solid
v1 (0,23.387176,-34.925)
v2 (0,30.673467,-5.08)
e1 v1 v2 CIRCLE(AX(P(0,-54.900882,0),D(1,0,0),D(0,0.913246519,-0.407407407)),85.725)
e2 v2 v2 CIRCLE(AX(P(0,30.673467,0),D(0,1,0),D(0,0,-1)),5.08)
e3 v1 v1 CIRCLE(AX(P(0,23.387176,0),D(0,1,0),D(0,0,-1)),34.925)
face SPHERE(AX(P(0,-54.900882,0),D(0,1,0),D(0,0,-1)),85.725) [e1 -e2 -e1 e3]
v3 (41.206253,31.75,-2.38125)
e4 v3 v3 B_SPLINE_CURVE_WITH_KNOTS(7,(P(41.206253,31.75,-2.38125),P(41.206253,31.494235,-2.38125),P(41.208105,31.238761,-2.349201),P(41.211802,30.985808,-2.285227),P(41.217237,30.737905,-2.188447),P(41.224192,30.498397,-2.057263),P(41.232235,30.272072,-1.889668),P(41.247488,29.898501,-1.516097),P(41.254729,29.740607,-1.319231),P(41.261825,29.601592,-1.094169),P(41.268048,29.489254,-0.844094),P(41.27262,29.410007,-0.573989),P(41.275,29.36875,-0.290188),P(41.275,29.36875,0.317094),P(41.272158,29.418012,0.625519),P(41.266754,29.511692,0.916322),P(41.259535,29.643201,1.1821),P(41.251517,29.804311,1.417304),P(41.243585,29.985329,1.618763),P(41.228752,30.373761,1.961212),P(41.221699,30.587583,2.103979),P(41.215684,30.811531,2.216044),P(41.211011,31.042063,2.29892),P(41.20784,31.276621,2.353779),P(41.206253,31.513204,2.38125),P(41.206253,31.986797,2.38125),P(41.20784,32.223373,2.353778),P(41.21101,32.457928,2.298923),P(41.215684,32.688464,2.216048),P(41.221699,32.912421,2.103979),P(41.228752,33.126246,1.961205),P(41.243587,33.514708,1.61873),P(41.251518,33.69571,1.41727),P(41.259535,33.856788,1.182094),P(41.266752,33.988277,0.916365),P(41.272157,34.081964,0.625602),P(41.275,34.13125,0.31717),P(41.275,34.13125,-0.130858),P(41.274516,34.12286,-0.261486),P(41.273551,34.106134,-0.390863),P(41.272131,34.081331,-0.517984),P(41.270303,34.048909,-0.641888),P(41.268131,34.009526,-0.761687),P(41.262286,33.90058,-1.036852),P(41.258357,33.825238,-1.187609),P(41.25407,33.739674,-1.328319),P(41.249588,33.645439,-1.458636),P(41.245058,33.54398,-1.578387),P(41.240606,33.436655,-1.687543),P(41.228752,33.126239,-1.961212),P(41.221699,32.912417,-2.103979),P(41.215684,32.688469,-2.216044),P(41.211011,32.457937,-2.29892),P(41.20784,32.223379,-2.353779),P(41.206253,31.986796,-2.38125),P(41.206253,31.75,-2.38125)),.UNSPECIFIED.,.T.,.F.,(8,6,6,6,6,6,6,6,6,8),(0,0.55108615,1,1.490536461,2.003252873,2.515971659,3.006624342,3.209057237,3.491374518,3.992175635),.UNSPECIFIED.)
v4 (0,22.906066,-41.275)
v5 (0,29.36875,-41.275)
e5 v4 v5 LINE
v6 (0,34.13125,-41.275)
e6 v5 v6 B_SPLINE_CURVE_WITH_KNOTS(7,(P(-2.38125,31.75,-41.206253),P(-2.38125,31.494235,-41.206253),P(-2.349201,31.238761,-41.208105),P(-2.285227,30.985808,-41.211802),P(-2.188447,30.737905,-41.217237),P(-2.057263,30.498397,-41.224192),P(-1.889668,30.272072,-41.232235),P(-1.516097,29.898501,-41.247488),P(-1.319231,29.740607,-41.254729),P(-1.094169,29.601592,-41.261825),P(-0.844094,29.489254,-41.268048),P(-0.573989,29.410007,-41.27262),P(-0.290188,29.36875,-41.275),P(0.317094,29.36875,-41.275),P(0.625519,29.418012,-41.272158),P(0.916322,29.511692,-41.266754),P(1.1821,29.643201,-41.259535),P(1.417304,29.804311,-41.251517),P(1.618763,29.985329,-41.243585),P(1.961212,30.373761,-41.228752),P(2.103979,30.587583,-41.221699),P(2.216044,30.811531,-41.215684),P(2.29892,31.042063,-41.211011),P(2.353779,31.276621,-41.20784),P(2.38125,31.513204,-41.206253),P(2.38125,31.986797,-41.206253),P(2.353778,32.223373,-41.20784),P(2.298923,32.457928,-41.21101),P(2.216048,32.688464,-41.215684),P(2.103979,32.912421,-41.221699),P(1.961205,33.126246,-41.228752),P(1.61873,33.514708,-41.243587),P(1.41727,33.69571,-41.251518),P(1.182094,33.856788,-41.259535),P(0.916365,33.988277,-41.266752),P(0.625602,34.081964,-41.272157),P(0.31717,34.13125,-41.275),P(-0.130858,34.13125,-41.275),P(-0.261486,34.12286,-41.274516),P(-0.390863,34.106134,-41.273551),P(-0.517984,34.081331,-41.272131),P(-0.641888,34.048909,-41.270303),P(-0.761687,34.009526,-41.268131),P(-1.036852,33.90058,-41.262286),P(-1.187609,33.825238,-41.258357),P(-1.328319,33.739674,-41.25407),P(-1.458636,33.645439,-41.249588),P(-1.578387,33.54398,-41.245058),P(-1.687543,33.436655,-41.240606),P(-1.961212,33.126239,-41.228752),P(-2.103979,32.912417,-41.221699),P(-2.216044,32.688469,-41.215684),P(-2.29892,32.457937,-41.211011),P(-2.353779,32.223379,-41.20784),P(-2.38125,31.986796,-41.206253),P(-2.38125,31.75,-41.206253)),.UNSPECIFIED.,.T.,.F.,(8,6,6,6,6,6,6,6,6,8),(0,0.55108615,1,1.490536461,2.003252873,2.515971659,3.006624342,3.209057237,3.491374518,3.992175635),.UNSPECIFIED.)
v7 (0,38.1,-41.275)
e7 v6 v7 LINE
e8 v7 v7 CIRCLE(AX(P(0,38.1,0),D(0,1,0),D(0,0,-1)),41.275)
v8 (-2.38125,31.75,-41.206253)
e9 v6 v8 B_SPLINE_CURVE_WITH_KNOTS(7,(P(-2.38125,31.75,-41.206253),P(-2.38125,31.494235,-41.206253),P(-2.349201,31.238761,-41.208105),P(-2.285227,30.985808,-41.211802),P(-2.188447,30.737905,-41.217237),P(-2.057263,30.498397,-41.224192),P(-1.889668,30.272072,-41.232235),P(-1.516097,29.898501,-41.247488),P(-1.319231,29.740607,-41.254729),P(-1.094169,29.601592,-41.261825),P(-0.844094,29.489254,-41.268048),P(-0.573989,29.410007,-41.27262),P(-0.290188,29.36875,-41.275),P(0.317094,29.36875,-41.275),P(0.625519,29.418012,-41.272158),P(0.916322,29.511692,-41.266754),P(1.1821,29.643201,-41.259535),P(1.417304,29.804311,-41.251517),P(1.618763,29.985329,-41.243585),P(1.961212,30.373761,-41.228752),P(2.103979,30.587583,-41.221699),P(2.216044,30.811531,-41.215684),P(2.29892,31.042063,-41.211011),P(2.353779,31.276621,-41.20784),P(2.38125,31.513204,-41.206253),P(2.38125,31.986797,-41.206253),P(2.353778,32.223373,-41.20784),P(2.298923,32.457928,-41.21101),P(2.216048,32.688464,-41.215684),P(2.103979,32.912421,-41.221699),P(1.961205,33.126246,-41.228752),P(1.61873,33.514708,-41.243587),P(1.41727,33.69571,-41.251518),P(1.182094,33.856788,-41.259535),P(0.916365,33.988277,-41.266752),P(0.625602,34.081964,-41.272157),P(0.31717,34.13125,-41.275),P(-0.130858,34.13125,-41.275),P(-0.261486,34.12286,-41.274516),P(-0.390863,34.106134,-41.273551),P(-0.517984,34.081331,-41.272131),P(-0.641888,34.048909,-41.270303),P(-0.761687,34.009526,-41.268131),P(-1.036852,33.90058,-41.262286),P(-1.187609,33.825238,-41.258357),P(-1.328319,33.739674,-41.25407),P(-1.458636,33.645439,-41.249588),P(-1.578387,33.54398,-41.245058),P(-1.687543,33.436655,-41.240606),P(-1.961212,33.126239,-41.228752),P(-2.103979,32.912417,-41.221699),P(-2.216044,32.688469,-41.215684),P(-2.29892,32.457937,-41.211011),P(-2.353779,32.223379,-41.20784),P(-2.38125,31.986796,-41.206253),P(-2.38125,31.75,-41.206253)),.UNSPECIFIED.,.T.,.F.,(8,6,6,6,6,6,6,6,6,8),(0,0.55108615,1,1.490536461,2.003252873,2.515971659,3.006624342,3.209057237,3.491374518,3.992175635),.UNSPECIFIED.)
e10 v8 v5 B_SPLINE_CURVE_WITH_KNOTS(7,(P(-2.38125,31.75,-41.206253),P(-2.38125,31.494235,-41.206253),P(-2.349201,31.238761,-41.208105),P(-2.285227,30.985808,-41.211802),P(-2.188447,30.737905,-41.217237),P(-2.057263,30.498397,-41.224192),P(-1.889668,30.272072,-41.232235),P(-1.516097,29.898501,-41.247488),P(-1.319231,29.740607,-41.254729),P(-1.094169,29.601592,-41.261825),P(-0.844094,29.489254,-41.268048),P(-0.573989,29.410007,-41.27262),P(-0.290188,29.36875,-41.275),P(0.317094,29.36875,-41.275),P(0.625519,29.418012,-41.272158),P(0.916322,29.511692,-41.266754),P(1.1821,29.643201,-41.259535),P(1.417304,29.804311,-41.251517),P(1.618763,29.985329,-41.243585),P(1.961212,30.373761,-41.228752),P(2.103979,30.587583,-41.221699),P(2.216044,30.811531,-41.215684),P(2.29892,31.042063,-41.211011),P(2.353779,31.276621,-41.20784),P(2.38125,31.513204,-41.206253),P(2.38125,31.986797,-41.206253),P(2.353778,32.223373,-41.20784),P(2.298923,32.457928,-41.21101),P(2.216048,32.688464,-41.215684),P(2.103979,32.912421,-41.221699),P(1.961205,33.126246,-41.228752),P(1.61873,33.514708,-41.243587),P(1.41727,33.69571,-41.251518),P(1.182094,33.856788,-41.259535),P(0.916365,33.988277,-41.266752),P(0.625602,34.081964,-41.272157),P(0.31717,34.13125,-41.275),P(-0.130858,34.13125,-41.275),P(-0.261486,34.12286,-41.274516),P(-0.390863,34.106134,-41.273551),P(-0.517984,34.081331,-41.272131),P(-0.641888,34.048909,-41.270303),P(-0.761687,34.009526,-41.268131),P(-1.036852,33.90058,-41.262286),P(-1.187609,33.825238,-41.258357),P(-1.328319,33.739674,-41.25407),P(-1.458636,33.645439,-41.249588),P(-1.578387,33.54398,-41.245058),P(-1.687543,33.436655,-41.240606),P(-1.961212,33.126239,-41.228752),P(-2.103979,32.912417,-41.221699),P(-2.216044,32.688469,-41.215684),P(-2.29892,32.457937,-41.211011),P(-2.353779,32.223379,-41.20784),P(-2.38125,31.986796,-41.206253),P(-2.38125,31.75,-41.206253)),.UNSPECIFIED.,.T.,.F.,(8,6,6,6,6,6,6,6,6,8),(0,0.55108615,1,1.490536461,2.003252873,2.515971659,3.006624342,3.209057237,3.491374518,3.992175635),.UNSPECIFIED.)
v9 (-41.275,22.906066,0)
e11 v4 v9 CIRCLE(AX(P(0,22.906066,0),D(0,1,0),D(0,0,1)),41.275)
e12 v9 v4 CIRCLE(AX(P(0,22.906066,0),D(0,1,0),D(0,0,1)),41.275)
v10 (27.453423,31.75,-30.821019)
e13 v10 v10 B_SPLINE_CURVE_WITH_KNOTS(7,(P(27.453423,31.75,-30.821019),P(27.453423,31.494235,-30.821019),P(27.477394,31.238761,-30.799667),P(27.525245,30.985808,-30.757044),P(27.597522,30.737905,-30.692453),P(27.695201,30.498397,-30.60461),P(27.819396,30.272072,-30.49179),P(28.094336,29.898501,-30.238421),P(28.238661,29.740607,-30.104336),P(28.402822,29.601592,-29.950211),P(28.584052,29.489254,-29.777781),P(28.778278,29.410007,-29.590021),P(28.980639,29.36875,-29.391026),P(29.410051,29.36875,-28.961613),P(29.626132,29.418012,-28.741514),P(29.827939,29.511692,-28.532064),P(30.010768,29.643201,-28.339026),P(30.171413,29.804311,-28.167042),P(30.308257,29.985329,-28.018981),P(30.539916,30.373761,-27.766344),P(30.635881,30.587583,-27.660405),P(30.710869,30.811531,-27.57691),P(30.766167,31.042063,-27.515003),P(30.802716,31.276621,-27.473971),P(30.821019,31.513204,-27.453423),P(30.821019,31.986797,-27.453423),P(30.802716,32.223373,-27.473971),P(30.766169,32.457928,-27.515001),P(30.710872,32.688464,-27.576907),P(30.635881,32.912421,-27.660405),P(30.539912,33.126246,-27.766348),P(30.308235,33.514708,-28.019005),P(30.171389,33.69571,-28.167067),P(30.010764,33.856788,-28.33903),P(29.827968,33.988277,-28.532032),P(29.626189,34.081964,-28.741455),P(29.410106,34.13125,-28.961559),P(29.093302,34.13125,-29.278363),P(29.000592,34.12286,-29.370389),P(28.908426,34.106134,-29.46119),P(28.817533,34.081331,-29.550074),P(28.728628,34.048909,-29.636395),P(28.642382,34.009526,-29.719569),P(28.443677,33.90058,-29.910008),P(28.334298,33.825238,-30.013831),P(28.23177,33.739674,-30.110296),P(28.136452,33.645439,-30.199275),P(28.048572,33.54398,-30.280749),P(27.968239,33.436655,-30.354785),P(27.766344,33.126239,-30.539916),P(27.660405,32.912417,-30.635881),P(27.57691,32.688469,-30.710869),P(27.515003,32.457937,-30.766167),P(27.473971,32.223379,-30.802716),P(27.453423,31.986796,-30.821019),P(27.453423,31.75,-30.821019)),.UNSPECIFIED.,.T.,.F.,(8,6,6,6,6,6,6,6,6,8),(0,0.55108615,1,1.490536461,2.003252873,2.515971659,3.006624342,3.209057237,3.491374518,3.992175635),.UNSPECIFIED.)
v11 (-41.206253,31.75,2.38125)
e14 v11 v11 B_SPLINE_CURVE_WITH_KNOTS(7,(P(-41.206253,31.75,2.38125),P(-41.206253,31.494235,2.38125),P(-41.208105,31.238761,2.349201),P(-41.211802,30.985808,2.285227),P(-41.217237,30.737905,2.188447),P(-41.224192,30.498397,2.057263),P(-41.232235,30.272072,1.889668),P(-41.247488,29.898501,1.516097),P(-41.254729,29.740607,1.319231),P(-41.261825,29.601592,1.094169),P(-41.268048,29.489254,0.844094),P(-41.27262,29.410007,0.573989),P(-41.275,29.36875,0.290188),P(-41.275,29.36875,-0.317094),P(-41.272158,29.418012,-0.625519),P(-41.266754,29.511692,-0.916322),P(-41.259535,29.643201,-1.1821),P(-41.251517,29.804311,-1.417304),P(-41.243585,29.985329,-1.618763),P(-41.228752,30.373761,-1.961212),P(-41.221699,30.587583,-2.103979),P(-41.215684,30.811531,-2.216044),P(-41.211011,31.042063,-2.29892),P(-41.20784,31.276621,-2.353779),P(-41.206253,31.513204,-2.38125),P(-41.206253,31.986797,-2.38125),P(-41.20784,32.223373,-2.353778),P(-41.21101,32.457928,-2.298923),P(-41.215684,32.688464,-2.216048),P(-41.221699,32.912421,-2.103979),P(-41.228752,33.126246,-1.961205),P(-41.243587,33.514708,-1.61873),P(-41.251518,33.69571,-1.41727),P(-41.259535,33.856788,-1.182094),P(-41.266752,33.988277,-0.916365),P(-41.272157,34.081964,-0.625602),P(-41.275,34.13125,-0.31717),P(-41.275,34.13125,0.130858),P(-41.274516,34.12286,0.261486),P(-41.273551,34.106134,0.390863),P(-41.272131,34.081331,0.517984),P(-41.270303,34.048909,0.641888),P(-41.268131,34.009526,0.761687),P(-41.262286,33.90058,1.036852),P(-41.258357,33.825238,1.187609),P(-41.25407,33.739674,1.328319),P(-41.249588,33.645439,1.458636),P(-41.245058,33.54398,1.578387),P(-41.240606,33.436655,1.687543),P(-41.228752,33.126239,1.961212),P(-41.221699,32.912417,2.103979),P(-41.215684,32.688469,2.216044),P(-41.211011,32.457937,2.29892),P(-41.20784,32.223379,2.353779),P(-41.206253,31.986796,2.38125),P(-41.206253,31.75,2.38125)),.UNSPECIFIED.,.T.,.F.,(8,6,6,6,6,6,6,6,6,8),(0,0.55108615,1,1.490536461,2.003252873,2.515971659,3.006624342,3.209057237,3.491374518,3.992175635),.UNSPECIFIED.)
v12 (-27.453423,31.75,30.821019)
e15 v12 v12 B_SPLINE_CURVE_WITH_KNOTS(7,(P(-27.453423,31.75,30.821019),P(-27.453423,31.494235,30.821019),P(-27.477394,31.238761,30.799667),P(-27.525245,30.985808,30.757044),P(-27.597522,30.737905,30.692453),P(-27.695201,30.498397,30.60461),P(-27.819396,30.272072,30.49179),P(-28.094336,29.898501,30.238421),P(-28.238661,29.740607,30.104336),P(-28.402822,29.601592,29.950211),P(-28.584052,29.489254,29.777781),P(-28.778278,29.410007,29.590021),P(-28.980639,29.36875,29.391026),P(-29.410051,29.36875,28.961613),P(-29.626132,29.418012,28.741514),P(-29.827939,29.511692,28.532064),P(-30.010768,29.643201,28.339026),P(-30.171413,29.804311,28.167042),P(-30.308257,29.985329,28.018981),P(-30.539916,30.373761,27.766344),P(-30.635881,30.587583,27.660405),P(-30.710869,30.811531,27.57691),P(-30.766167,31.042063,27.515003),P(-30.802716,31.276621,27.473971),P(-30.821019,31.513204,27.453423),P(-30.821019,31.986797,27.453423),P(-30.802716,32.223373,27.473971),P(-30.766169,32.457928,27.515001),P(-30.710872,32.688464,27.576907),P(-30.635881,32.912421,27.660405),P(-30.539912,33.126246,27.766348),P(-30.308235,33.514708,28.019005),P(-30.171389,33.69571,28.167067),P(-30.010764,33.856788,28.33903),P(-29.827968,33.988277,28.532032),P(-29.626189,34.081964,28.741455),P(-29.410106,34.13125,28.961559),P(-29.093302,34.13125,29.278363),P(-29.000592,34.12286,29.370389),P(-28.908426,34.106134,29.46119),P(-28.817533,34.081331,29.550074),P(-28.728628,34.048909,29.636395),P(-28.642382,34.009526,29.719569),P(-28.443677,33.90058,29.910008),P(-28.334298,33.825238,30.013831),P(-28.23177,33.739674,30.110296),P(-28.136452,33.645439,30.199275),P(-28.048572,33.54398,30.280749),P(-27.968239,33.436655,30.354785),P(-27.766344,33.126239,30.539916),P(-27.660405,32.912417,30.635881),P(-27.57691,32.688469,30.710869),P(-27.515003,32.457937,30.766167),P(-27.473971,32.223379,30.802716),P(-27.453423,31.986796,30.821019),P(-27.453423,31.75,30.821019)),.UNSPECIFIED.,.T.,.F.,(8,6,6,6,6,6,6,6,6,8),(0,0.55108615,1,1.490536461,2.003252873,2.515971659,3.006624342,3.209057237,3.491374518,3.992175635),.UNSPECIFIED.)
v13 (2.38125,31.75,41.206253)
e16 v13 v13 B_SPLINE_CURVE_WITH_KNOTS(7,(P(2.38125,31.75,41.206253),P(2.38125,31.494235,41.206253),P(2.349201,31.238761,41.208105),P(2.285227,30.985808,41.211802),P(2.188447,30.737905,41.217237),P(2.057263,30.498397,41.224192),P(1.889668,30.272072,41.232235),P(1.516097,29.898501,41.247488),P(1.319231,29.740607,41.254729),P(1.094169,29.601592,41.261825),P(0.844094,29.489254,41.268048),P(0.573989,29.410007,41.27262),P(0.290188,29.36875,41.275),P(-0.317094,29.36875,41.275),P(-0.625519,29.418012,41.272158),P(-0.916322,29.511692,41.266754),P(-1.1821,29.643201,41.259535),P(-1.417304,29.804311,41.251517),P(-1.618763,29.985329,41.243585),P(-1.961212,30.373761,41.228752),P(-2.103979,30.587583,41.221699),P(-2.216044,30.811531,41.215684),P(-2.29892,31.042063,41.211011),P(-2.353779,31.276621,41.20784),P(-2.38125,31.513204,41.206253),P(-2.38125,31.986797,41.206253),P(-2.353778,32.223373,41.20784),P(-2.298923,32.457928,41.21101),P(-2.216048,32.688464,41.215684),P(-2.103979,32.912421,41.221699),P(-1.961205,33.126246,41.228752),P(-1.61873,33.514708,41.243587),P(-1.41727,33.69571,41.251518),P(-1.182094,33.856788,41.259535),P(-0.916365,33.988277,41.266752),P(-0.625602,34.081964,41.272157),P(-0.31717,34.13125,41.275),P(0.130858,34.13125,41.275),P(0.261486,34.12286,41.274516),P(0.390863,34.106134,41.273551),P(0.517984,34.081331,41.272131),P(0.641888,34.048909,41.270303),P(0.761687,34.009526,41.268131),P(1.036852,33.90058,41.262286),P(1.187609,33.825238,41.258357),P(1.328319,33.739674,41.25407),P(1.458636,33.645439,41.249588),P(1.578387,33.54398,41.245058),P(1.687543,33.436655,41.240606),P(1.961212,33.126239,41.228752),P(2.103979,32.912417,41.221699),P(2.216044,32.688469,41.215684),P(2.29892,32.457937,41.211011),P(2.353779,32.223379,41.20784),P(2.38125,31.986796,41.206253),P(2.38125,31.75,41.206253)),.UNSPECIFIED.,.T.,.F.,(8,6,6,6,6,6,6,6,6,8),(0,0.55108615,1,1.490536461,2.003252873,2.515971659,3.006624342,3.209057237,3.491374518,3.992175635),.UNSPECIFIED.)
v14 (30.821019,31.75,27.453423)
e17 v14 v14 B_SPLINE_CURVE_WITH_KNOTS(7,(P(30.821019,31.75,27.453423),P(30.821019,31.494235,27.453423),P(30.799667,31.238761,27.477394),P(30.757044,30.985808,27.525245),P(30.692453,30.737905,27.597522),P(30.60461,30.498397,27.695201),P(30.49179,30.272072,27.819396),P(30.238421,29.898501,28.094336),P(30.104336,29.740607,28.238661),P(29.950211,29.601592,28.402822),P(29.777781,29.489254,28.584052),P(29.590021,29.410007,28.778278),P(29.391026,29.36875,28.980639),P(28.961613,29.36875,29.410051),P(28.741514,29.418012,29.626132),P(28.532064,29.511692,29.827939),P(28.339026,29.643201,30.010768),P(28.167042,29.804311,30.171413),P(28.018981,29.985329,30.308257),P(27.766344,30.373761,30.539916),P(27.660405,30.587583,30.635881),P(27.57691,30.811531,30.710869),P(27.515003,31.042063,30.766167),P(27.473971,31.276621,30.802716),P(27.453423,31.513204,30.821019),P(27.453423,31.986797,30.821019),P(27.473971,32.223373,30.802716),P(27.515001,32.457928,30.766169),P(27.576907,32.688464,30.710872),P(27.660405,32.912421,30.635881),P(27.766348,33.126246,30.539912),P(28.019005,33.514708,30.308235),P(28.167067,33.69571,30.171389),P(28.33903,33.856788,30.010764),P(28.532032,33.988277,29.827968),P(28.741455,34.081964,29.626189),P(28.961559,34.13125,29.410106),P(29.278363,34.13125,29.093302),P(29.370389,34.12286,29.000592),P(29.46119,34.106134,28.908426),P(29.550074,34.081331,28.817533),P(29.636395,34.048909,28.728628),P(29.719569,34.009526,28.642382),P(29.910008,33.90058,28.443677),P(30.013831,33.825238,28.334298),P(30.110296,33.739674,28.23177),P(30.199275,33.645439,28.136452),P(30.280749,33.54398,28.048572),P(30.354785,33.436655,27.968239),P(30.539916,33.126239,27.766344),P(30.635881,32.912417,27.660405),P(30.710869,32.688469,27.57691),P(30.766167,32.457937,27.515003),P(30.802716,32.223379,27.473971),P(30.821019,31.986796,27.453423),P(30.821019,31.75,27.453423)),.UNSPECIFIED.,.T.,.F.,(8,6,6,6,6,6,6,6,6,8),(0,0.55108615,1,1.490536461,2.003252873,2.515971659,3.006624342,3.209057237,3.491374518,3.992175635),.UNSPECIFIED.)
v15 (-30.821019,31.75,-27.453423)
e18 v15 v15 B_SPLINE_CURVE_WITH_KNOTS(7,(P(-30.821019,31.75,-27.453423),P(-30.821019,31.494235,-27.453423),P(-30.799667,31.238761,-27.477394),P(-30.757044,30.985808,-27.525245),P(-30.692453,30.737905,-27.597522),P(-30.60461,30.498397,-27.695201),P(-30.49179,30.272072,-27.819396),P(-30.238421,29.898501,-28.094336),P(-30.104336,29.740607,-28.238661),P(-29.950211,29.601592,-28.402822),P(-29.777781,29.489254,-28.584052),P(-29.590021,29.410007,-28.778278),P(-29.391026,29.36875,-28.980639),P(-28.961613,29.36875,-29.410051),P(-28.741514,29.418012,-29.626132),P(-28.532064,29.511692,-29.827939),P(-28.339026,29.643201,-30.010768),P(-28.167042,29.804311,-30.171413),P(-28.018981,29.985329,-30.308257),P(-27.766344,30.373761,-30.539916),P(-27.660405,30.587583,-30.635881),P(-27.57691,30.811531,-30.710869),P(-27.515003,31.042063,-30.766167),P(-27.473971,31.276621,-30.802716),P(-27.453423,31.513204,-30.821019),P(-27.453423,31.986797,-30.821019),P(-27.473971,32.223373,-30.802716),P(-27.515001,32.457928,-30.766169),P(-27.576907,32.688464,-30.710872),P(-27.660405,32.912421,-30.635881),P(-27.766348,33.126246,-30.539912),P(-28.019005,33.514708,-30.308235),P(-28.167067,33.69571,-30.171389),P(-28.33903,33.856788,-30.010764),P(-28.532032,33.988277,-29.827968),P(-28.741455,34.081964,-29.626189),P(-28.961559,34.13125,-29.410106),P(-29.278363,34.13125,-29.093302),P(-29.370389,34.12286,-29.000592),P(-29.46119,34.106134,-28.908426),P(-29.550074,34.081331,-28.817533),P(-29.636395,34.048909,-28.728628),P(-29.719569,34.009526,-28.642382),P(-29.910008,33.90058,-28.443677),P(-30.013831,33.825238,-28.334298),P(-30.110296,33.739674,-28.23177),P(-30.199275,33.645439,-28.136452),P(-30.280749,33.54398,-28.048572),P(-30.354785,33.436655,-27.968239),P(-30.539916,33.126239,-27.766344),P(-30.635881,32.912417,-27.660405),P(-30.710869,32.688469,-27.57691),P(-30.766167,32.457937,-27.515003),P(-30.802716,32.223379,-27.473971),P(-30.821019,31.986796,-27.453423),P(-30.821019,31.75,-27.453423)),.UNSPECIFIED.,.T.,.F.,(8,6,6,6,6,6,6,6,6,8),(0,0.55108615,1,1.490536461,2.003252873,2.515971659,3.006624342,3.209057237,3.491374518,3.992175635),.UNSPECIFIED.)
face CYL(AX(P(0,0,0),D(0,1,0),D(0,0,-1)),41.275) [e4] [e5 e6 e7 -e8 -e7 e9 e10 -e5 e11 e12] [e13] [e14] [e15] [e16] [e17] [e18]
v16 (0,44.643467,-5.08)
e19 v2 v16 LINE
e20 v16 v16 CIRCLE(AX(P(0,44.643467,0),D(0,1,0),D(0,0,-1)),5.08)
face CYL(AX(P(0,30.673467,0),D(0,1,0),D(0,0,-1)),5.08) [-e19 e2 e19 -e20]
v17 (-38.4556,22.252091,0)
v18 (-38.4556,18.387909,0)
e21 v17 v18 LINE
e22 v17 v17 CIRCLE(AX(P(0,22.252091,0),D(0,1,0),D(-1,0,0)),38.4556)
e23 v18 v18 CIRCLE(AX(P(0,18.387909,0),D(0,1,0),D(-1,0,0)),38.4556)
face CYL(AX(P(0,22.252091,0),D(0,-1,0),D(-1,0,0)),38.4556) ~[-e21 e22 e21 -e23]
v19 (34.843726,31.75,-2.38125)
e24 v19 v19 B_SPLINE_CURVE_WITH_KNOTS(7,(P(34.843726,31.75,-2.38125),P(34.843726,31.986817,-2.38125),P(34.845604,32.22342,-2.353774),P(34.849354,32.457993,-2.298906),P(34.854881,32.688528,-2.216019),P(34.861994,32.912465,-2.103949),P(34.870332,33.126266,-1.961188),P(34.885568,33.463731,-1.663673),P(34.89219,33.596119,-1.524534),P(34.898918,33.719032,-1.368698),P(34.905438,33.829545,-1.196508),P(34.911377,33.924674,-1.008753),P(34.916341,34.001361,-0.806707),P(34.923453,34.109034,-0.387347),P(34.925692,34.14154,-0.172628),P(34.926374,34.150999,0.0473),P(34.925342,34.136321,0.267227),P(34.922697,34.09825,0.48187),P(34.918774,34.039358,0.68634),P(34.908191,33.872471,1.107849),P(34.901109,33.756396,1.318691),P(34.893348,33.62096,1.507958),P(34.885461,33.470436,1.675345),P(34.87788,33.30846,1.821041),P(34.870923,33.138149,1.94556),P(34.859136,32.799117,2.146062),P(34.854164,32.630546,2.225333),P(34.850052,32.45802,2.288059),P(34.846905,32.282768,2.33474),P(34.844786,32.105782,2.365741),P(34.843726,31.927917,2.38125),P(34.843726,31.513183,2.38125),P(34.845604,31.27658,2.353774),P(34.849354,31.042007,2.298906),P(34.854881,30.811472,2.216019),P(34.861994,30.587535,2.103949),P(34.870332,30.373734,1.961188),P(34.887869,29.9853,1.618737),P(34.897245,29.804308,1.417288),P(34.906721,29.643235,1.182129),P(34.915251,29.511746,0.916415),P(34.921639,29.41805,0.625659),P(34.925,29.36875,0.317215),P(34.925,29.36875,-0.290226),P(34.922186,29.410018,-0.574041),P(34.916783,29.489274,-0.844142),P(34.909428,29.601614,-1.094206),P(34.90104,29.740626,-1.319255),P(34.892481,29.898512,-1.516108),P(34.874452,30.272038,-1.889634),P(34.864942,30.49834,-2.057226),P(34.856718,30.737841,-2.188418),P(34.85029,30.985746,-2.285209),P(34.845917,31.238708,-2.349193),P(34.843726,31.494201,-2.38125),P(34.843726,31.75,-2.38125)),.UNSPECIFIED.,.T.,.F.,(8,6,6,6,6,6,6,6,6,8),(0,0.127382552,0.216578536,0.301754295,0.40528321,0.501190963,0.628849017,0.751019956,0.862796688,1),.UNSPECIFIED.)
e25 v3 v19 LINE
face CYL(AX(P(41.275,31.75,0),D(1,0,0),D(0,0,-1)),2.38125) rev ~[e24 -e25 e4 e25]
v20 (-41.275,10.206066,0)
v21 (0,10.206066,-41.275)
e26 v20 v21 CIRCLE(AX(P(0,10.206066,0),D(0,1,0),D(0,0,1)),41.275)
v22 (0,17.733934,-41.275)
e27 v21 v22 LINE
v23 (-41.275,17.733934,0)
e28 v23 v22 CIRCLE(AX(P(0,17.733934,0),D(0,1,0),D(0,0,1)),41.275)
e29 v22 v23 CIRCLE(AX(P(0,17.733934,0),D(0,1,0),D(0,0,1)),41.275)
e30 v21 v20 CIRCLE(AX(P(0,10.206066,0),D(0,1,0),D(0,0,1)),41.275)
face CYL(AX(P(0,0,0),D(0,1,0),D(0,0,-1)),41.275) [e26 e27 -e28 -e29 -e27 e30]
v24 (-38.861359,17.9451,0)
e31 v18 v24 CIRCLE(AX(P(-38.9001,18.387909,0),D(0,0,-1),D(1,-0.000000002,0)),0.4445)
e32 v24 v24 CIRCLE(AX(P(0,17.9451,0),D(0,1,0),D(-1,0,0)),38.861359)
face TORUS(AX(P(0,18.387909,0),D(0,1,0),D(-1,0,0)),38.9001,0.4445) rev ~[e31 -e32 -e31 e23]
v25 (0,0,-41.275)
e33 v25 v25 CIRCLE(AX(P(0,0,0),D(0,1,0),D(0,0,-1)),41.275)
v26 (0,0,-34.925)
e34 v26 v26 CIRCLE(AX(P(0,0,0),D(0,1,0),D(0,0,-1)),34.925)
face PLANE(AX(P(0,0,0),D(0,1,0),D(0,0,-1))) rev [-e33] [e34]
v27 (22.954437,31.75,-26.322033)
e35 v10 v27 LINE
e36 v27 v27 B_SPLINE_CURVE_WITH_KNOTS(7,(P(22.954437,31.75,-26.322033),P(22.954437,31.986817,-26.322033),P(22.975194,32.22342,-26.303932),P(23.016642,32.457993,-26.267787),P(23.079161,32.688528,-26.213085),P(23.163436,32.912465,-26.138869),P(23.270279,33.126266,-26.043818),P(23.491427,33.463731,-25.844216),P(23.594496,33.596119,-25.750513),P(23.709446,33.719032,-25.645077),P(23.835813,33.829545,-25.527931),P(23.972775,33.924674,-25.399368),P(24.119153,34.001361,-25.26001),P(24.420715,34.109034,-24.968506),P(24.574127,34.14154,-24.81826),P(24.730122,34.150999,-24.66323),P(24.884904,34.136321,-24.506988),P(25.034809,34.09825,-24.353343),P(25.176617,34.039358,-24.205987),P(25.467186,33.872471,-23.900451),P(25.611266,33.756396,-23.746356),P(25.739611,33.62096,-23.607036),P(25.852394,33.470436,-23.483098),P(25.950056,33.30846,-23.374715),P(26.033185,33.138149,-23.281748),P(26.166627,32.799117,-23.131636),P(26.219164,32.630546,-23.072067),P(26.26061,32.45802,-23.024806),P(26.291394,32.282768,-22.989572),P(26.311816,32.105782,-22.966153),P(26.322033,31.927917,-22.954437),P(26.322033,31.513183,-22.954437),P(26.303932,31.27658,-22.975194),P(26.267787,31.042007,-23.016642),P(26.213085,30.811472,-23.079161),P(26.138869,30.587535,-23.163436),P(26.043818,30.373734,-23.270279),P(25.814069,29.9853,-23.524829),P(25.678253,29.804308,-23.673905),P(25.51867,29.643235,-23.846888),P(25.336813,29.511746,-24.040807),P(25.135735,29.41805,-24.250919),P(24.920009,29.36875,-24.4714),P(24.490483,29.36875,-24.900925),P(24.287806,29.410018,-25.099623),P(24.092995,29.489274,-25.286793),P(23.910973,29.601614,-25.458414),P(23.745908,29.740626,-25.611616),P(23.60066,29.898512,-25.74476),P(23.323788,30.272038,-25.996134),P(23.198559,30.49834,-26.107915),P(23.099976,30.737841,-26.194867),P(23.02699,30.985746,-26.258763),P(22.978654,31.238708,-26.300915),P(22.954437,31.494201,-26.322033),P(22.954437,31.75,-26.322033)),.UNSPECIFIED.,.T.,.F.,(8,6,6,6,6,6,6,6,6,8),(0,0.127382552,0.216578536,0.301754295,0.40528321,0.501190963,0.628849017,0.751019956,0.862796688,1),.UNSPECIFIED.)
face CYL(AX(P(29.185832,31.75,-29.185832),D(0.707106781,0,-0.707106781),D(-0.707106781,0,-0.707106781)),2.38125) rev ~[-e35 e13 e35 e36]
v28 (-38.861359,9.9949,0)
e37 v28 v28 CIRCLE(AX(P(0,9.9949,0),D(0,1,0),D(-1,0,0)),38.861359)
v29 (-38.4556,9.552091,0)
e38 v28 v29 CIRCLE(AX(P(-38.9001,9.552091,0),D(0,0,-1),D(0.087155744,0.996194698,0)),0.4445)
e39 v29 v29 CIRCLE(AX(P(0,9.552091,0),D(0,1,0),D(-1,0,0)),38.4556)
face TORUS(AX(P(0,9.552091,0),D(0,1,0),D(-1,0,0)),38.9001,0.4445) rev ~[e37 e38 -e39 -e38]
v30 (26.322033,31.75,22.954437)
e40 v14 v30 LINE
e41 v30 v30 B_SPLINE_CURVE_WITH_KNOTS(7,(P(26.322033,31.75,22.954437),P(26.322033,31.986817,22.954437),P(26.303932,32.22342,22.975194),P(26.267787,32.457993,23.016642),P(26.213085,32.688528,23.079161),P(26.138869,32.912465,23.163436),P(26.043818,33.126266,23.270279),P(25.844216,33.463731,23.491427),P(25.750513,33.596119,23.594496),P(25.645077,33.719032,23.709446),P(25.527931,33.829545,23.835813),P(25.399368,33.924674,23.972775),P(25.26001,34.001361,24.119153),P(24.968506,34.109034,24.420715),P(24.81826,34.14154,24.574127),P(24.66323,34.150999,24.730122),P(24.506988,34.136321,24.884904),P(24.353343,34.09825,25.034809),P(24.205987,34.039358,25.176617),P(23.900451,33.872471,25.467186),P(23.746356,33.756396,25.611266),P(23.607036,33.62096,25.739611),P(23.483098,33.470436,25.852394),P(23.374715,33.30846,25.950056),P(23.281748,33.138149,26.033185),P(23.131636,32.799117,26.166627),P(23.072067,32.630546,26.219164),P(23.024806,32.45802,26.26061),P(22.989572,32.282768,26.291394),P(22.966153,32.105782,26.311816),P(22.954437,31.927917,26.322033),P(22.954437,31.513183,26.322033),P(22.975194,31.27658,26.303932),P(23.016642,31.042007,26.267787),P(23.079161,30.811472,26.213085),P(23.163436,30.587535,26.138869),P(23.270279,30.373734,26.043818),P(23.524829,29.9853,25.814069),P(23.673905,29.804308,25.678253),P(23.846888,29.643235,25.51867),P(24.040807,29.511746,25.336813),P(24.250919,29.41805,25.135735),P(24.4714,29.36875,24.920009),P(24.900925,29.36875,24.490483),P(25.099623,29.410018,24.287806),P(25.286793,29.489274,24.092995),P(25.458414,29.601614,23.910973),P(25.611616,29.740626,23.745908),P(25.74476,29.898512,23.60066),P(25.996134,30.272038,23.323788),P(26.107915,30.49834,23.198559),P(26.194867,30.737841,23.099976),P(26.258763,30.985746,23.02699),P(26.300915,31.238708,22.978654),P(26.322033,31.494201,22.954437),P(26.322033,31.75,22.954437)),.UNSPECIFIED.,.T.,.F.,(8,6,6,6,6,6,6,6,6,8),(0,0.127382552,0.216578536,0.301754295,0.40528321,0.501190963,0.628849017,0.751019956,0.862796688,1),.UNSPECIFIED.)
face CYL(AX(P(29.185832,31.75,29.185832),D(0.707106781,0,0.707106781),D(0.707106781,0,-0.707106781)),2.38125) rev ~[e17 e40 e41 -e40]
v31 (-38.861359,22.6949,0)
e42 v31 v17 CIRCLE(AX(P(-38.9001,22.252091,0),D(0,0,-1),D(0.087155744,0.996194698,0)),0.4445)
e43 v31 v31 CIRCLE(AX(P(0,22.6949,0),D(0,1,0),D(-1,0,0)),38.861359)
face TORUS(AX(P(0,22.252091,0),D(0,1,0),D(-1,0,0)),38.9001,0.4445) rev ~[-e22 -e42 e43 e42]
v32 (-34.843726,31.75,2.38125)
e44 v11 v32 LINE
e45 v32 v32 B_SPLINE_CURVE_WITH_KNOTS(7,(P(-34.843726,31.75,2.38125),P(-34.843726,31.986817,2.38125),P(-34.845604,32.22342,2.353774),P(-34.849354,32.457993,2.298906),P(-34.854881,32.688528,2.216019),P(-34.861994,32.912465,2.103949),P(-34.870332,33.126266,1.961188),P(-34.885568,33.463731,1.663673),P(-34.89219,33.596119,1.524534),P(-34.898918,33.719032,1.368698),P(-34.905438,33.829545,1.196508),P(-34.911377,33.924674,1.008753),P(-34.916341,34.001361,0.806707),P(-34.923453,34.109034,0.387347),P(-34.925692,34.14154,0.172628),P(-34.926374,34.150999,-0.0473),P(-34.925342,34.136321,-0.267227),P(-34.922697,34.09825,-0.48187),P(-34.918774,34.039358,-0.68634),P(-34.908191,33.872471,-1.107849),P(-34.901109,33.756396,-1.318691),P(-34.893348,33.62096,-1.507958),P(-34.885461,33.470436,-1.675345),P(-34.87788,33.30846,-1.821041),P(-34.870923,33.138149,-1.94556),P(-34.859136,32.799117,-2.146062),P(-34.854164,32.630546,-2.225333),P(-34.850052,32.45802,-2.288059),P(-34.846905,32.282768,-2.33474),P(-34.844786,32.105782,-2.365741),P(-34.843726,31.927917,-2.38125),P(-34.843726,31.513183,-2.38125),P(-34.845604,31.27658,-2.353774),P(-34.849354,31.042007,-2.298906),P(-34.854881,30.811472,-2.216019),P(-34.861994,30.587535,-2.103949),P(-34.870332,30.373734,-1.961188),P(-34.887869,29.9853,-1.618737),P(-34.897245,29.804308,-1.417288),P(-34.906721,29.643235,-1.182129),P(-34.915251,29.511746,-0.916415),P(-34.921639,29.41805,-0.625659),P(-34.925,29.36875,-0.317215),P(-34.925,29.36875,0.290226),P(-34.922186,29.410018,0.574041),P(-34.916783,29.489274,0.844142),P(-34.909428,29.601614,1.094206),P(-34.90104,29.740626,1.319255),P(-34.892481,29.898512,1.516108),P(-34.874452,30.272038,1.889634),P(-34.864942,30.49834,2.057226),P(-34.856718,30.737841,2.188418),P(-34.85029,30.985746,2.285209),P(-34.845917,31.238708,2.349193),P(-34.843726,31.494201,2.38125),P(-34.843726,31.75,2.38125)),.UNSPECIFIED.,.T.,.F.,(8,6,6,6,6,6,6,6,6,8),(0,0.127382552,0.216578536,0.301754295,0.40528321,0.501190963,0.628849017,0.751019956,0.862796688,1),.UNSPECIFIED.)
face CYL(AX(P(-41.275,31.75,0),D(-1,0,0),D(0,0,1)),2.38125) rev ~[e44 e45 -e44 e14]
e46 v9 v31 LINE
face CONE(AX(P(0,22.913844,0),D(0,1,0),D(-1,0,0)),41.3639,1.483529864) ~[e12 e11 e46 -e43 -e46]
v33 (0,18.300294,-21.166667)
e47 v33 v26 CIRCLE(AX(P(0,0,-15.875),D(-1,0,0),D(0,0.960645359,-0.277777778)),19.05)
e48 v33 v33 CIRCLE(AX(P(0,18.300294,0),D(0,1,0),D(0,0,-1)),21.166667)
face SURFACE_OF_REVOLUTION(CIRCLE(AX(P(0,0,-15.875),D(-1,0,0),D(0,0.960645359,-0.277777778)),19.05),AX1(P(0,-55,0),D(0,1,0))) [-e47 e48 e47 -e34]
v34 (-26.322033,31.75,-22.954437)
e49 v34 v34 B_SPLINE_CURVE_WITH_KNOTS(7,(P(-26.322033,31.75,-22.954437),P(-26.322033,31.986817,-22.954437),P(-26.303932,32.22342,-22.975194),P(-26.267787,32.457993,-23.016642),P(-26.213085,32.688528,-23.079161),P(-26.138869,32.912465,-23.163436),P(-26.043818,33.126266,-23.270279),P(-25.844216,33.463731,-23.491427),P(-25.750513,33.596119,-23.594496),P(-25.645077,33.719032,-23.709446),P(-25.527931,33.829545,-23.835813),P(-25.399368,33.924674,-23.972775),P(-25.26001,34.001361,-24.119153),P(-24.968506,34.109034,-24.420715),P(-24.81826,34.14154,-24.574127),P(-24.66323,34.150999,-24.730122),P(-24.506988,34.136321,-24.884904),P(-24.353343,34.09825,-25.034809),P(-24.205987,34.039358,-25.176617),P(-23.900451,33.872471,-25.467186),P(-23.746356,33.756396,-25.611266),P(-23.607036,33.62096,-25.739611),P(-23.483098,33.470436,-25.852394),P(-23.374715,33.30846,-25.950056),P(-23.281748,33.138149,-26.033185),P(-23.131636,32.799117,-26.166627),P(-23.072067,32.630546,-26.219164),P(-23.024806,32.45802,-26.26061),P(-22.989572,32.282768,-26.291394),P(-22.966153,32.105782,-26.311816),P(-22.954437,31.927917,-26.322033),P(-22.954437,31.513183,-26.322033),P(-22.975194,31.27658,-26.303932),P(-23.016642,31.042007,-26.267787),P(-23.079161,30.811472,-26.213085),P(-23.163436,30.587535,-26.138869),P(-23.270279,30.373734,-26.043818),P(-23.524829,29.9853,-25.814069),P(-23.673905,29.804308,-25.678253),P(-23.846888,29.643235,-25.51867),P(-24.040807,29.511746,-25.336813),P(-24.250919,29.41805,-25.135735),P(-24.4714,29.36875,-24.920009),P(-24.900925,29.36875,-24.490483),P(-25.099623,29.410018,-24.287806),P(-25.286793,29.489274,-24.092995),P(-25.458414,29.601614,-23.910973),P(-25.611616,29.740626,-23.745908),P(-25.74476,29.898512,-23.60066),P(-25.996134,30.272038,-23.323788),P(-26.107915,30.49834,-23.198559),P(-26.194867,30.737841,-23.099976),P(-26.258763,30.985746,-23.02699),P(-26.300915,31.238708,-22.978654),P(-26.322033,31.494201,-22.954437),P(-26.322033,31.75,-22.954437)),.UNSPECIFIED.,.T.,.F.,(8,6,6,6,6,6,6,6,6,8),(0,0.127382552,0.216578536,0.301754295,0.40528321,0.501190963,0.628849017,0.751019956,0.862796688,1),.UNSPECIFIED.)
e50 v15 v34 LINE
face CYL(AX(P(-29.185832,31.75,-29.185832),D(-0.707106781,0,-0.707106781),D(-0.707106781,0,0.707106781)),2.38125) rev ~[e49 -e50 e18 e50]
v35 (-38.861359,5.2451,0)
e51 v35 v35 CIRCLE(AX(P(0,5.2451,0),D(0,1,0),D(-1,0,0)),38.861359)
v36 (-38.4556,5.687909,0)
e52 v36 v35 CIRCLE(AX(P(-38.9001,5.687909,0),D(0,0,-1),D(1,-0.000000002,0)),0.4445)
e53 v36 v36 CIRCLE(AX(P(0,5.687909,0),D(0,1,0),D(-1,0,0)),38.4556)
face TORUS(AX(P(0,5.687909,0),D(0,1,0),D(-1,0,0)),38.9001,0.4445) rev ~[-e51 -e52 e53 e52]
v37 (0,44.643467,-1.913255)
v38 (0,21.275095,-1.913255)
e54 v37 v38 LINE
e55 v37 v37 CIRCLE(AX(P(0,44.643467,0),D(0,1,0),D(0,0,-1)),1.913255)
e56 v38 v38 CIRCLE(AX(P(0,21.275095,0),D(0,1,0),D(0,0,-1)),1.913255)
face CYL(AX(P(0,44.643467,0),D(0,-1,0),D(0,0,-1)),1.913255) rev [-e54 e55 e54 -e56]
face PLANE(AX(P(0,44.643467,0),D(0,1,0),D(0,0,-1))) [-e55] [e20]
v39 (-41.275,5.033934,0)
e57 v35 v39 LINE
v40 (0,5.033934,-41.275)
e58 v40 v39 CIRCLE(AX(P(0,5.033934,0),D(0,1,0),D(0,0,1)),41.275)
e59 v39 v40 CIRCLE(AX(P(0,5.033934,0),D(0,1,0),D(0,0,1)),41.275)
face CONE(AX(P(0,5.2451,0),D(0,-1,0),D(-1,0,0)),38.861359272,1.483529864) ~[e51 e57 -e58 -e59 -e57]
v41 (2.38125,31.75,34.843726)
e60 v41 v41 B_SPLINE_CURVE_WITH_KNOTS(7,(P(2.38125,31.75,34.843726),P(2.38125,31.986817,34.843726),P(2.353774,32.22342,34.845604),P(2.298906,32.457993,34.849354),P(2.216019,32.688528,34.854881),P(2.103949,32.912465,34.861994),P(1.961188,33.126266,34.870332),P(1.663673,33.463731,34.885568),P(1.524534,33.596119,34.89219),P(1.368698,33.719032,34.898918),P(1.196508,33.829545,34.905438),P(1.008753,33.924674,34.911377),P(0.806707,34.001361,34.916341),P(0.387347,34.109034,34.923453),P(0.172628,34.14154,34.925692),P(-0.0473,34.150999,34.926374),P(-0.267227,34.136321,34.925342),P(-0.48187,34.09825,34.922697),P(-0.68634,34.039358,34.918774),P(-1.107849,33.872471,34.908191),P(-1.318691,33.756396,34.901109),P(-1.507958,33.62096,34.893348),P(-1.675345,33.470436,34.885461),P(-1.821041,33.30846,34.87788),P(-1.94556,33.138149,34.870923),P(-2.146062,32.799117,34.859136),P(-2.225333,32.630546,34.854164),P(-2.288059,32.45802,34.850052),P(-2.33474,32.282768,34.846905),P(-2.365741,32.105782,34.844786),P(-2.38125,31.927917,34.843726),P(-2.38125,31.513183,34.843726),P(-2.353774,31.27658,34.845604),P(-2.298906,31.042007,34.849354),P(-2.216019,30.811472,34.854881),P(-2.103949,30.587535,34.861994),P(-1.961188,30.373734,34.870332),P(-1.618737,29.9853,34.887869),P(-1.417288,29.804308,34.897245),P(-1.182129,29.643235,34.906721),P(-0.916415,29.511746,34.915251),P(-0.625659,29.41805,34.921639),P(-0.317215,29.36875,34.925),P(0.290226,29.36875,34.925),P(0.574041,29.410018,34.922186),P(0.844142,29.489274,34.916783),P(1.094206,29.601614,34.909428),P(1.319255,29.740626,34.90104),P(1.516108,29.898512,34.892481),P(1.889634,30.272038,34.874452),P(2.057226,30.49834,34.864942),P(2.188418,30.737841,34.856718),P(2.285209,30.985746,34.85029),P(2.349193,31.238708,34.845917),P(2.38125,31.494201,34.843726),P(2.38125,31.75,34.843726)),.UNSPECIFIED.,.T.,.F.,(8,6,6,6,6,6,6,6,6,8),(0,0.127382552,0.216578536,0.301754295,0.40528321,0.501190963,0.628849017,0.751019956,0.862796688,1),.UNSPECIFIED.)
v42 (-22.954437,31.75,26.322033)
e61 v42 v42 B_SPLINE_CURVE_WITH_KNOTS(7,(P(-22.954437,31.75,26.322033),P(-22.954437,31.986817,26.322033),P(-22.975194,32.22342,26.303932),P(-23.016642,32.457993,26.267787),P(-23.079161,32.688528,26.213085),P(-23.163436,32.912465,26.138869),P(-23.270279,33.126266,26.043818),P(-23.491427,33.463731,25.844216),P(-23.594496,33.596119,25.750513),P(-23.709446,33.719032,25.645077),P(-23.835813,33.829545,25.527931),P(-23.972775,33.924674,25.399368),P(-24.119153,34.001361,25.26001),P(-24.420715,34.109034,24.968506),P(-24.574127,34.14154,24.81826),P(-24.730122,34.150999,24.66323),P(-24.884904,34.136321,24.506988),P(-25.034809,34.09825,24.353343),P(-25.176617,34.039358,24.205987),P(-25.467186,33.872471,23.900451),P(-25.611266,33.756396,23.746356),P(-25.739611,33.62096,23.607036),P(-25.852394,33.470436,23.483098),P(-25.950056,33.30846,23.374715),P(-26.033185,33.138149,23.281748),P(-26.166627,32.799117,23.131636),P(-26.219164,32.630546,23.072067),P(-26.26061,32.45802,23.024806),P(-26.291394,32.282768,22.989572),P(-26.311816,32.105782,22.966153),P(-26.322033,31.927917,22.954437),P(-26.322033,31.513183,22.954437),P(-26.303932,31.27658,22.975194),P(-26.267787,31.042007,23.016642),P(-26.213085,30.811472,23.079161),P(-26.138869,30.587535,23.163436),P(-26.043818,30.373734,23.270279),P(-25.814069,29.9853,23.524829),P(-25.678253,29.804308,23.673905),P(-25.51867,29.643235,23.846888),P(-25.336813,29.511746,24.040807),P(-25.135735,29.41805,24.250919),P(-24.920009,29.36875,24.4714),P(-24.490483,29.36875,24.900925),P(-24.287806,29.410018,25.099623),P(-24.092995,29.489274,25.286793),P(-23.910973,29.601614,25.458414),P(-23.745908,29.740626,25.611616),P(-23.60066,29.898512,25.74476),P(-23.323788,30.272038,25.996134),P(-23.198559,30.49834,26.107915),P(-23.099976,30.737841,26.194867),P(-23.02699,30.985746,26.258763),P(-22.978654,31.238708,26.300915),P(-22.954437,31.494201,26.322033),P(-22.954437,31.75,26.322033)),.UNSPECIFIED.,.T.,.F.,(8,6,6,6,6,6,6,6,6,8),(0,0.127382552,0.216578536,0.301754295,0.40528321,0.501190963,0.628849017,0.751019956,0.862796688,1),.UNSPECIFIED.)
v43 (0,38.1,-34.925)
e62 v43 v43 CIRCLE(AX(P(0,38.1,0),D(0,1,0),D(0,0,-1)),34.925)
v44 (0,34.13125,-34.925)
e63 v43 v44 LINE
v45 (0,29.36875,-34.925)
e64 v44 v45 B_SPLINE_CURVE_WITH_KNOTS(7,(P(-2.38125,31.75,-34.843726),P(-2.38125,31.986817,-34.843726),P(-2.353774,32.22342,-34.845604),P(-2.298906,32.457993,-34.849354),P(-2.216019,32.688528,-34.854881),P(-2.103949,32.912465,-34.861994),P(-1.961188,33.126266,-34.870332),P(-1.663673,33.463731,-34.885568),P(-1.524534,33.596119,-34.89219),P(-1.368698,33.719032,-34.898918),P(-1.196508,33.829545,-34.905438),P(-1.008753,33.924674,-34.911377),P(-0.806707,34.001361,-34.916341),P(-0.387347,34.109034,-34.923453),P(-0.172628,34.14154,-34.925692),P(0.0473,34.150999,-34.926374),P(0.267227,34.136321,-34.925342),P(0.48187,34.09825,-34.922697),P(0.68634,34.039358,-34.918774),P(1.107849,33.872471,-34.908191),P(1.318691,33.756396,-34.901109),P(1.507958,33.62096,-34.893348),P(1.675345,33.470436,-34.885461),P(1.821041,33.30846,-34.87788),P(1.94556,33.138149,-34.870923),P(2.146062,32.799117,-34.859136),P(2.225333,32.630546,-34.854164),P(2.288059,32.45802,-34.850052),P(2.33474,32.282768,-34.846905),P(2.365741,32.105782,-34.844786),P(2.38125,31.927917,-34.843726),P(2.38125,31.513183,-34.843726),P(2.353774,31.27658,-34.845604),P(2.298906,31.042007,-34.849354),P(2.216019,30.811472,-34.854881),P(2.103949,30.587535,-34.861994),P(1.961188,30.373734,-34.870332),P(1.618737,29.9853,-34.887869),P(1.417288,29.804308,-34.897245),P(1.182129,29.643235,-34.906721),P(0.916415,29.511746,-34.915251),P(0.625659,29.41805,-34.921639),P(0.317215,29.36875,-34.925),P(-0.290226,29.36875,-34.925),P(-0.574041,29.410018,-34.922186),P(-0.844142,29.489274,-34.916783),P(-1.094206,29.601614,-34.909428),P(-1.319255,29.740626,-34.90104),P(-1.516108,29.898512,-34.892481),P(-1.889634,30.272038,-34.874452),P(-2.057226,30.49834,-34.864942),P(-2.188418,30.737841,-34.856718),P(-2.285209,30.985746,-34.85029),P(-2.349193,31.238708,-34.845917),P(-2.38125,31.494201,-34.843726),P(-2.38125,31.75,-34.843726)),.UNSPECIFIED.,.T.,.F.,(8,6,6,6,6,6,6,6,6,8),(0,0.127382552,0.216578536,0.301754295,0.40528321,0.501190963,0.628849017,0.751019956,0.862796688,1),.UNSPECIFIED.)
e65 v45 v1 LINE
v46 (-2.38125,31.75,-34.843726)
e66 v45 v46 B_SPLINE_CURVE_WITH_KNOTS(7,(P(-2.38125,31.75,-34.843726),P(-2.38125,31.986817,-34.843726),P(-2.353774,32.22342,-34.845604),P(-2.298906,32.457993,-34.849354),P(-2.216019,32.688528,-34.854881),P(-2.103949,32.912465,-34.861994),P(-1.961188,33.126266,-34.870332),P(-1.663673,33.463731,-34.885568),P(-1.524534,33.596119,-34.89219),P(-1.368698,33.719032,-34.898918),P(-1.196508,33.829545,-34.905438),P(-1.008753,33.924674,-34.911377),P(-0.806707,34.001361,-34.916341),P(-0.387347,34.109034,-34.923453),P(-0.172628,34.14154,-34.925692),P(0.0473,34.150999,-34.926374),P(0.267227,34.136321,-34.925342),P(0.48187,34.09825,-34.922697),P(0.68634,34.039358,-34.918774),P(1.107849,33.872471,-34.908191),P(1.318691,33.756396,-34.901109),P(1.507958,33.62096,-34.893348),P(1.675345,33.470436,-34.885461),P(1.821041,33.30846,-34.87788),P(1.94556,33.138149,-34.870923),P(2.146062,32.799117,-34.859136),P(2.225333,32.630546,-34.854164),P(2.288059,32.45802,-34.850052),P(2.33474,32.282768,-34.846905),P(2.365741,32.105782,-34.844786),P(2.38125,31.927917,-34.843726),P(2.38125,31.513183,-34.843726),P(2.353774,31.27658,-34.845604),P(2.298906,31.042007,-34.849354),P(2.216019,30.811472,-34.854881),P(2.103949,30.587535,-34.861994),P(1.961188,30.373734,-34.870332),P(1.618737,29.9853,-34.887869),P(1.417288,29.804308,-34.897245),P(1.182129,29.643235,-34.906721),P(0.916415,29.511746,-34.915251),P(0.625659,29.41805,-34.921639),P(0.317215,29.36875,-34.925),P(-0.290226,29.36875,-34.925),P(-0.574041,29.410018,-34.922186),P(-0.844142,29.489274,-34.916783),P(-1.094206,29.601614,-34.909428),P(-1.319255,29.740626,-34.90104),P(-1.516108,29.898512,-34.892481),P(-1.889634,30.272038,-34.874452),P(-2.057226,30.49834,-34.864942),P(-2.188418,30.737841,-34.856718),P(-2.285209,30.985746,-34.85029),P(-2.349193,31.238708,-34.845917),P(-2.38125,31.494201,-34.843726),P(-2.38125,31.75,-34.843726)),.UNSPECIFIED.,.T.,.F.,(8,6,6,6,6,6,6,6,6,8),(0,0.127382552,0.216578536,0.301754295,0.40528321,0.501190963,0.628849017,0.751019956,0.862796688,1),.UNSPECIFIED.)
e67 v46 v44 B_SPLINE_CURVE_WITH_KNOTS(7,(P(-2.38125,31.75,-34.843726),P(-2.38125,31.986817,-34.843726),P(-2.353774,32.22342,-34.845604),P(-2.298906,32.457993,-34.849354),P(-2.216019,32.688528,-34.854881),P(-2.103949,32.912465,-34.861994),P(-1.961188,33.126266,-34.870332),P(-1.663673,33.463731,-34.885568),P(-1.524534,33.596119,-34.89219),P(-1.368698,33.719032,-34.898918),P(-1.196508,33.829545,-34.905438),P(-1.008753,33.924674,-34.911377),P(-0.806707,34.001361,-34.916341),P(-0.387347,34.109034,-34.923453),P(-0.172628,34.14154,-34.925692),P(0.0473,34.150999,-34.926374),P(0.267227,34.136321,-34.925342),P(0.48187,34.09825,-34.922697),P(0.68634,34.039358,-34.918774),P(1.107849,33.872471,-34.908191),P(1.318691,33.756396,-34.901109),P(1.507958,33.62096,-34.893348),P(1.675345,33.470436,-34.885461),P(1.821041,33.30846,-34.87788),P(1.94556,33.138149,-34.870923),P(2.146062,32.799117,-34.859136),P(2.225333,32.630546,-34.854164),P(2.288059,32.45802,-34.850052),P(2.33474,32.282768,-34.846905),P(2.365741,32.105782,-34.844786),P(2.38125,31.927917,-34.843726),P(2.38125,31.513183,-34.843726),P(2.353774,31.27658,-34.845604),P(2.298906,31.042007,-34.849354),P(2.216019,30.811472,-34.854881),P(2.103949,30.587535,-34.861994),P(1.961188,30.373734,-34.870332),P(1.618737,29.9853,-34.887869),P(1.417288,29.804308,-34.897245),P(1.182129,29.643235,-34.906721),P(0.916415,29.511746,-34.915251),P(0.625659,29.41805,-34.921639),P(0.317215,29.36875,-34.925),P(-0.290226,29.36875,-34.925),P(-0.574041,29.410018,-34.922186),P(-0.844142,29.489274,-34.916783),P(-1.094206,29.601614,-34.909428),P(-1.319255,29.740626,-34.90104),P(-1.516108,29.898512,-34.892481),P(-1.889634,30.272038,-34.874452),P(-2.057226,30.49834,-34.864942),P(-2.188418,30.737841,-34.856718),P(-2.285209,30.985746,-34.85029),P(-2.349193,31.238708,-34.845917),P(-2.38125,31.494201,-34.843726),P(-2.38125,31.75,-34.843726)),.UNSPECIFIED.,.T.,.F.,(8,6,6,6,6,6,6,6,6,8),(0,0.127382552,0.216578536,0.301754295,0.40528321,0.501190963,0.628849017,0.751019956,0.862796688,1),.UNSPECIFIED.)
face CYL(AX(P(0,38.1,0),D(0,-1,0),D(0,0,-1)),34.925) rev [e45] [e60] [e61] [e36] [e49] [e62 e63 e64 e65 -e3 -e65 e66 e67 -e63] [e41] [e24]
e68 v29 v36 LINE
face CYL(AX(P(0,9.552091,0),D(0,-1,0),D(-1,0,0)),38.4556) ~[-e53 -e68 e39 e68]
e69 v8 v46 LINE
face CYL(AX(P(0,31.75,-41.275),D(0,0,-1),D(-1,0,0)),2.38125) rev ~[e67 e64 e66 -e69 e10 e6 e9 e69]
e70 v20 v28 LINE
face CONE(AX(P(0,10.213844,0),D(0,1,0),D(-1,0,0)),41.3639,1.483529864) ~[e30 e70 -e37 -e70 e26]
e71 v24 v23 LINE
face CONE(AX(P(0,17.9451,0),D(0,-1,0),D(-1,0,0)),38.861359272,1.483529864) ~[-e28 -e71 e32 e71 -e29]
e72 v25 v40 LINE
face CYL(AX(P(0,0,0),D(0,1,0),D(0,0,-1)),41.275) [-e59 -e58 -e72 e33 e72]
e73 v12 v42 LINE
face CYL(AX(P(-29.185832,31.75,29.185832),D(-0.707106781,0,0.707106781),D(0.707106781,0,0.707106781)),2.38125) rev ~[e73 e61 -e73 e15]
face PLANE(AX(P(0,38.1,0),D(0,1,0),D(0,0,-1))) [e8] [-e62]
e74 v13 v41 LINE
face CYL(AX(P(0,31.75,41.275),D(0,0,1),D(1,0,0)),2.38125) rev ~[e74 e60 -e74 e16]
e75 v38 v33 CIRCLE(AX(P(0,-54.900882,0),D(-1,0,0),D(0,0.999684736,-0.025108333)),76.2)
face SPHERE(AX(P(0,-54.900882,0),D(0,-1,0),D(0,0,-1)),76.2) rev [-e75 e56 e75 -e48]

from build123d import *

# Parameters (mm, degrees)
LPATTERN1_COUNT                     = 2
LPATTERN1_PITCH                     = 12.7
F_3_16_0_1875_DIAMETER_HOLE1_REACH  = 99.602
F_3_16_0_1875_DIAMETER_HOLE1_BORE_R = 2.38125
CIRPATTERN1_COUNT                   = 8


with BuildPart() as part:
    # Sketch1 → Revolve1 (revolve)
    with BuildSketch(Plane.XY, mode=Mode.PRIVATE) as revolve1_sk:
        with BuildLine():
            Line((-41.275, 0), (-41.275, 38.1))
            Line((-41.275, 38.1), (-34.925, 38.1))
            Line((-34.925, 38.1), (-34.925, 23.387175559))
            ThreePointArc((-34.925, 23.387175559), (-20.331564533, 28.378185371), (-5.08, 30.673466828))
            Line((-5.08, 30.673466828), (-5.08, 44.643466828))
            Line((-5.08, 44.643466828), (-1.913255, 44.643466828))
            Line((-1.913255, 44.643466828), (-1.913255, 21.275094612))
            ThreePointArc((-1.913255, 21.275094612), (-11.635422449, 20.405538061), (-21.166666667, 18.300294093))
            ThreePointArc((-21.166666667, 18.300294093), (-31.101765087, 11.4476253), (-34.925, 0))
            Line((-34.925, 0), (-41.275, 0))
        make_face()
    revolve(revolve1_sk.sketch.rotate(Axis((0, -55, 0), (0, 1, 0)), 270), axis=Axis((0, -55, 0), (0, 1, 0)))

    # Sketch3 → Groove for AS 568-234, O-Ring1 (revolve, cut)
    with BuildSketch(Plane(origin=(0, -55, 0), x_dir=(0, 0, -1), z_dir=(-1, 0, 0)), mode=Mode.PRIVATE) as groove_for_as_568_234_o_ring1_sk:
        with BuildLine():
            Line((38.861359272, -60.2451), (41.3639, -60.026156056))
            Line((41.3639, -60.026156056), (41.3639, -65.213843944))
            Line((41.3639, -65.213843944), (38.861359272, -64.9949))
            ThreePointArc((38.861359272, -64.9949), (38.572380224, -64.852391304), (38.4556, -64.552091457))
            Line((38.4556, -64.552091457), (38.4556, -60.687908543))
            ThreePointArc((38.4556, -60.687908543), (38.572380224, -60.387608696), (38.861359272, -60.2451))
        make_face()
    groove_for_as_568_234_o_ring1 = revolve(groove_for_as_568_234_o_ring1_sk.sketch.rotate(Axis((0, -105, 0), (0, 1, 0)), 90), axis=Axis((0, -105, 0), (0, 1, 0)), mode=Mode.SUBTRACT)

    # LPattern1: Groove for AS 568-234, O-Ring1 ×2
    with Locations(*[(0, i * LPATTERN1_PITCH, 0) for i in range(1, LPATTERN1_COUNT)]):
        add(groove_for_as_568_234_o_ring1, mode=Mode.SUBTRACT)

    # 3/16 (0.1875) Diameter Hole1 bore (on position points) → 3/16 (0.1875) Diameter Hole1 (cut, up to next)
    with BuildSketch(Plane(origin=(0, 31.75, 41.275), x_dir=(1, 0, 0), z_dir=(0, 0, 1)), mode=Mode.PRIVATE) as f_3_16_0_1875_diameter_hole1_sk1:
        Circle(F_3_16_0_1875_DIAMETER_HOLE1_BORE_R)
    f_3_16_0_1875_diameter_hole1_tool1 = extrude(f_3_16_0_1875_diameter_hole1_sk1.sketch, amount=-F_3_16_0_1875_DIAMETER_HOLE1_REACH, mode=Mode.PRIVATE) & part.part
    f_3_16_0_1875_diameter_hole1 = f_3_16_0_1875_diameter_hole1_tool1.solids().sort_by_distance((0, 31.75, 41.275))[0]
    add(f_3_16_0_1875_diameter_hole1, mode=Mode.SUBTRACT)

    # CirPattern1: 3/16 (0.1875) Diameter Hole1 ×8 about axis
    cirpattern1_axis = Axis((0, -55, 0), (0, 1, 0))
    for i in range(1, CIRPATTERN1_COUNT):
        add(f_3_16_0_1875_diameter_hole1.rotate(cirpattern1_axis, i * 360 / CIRPATTERN1_COUNT), mode=Mode.SUBTRACT)


solid = part.part
